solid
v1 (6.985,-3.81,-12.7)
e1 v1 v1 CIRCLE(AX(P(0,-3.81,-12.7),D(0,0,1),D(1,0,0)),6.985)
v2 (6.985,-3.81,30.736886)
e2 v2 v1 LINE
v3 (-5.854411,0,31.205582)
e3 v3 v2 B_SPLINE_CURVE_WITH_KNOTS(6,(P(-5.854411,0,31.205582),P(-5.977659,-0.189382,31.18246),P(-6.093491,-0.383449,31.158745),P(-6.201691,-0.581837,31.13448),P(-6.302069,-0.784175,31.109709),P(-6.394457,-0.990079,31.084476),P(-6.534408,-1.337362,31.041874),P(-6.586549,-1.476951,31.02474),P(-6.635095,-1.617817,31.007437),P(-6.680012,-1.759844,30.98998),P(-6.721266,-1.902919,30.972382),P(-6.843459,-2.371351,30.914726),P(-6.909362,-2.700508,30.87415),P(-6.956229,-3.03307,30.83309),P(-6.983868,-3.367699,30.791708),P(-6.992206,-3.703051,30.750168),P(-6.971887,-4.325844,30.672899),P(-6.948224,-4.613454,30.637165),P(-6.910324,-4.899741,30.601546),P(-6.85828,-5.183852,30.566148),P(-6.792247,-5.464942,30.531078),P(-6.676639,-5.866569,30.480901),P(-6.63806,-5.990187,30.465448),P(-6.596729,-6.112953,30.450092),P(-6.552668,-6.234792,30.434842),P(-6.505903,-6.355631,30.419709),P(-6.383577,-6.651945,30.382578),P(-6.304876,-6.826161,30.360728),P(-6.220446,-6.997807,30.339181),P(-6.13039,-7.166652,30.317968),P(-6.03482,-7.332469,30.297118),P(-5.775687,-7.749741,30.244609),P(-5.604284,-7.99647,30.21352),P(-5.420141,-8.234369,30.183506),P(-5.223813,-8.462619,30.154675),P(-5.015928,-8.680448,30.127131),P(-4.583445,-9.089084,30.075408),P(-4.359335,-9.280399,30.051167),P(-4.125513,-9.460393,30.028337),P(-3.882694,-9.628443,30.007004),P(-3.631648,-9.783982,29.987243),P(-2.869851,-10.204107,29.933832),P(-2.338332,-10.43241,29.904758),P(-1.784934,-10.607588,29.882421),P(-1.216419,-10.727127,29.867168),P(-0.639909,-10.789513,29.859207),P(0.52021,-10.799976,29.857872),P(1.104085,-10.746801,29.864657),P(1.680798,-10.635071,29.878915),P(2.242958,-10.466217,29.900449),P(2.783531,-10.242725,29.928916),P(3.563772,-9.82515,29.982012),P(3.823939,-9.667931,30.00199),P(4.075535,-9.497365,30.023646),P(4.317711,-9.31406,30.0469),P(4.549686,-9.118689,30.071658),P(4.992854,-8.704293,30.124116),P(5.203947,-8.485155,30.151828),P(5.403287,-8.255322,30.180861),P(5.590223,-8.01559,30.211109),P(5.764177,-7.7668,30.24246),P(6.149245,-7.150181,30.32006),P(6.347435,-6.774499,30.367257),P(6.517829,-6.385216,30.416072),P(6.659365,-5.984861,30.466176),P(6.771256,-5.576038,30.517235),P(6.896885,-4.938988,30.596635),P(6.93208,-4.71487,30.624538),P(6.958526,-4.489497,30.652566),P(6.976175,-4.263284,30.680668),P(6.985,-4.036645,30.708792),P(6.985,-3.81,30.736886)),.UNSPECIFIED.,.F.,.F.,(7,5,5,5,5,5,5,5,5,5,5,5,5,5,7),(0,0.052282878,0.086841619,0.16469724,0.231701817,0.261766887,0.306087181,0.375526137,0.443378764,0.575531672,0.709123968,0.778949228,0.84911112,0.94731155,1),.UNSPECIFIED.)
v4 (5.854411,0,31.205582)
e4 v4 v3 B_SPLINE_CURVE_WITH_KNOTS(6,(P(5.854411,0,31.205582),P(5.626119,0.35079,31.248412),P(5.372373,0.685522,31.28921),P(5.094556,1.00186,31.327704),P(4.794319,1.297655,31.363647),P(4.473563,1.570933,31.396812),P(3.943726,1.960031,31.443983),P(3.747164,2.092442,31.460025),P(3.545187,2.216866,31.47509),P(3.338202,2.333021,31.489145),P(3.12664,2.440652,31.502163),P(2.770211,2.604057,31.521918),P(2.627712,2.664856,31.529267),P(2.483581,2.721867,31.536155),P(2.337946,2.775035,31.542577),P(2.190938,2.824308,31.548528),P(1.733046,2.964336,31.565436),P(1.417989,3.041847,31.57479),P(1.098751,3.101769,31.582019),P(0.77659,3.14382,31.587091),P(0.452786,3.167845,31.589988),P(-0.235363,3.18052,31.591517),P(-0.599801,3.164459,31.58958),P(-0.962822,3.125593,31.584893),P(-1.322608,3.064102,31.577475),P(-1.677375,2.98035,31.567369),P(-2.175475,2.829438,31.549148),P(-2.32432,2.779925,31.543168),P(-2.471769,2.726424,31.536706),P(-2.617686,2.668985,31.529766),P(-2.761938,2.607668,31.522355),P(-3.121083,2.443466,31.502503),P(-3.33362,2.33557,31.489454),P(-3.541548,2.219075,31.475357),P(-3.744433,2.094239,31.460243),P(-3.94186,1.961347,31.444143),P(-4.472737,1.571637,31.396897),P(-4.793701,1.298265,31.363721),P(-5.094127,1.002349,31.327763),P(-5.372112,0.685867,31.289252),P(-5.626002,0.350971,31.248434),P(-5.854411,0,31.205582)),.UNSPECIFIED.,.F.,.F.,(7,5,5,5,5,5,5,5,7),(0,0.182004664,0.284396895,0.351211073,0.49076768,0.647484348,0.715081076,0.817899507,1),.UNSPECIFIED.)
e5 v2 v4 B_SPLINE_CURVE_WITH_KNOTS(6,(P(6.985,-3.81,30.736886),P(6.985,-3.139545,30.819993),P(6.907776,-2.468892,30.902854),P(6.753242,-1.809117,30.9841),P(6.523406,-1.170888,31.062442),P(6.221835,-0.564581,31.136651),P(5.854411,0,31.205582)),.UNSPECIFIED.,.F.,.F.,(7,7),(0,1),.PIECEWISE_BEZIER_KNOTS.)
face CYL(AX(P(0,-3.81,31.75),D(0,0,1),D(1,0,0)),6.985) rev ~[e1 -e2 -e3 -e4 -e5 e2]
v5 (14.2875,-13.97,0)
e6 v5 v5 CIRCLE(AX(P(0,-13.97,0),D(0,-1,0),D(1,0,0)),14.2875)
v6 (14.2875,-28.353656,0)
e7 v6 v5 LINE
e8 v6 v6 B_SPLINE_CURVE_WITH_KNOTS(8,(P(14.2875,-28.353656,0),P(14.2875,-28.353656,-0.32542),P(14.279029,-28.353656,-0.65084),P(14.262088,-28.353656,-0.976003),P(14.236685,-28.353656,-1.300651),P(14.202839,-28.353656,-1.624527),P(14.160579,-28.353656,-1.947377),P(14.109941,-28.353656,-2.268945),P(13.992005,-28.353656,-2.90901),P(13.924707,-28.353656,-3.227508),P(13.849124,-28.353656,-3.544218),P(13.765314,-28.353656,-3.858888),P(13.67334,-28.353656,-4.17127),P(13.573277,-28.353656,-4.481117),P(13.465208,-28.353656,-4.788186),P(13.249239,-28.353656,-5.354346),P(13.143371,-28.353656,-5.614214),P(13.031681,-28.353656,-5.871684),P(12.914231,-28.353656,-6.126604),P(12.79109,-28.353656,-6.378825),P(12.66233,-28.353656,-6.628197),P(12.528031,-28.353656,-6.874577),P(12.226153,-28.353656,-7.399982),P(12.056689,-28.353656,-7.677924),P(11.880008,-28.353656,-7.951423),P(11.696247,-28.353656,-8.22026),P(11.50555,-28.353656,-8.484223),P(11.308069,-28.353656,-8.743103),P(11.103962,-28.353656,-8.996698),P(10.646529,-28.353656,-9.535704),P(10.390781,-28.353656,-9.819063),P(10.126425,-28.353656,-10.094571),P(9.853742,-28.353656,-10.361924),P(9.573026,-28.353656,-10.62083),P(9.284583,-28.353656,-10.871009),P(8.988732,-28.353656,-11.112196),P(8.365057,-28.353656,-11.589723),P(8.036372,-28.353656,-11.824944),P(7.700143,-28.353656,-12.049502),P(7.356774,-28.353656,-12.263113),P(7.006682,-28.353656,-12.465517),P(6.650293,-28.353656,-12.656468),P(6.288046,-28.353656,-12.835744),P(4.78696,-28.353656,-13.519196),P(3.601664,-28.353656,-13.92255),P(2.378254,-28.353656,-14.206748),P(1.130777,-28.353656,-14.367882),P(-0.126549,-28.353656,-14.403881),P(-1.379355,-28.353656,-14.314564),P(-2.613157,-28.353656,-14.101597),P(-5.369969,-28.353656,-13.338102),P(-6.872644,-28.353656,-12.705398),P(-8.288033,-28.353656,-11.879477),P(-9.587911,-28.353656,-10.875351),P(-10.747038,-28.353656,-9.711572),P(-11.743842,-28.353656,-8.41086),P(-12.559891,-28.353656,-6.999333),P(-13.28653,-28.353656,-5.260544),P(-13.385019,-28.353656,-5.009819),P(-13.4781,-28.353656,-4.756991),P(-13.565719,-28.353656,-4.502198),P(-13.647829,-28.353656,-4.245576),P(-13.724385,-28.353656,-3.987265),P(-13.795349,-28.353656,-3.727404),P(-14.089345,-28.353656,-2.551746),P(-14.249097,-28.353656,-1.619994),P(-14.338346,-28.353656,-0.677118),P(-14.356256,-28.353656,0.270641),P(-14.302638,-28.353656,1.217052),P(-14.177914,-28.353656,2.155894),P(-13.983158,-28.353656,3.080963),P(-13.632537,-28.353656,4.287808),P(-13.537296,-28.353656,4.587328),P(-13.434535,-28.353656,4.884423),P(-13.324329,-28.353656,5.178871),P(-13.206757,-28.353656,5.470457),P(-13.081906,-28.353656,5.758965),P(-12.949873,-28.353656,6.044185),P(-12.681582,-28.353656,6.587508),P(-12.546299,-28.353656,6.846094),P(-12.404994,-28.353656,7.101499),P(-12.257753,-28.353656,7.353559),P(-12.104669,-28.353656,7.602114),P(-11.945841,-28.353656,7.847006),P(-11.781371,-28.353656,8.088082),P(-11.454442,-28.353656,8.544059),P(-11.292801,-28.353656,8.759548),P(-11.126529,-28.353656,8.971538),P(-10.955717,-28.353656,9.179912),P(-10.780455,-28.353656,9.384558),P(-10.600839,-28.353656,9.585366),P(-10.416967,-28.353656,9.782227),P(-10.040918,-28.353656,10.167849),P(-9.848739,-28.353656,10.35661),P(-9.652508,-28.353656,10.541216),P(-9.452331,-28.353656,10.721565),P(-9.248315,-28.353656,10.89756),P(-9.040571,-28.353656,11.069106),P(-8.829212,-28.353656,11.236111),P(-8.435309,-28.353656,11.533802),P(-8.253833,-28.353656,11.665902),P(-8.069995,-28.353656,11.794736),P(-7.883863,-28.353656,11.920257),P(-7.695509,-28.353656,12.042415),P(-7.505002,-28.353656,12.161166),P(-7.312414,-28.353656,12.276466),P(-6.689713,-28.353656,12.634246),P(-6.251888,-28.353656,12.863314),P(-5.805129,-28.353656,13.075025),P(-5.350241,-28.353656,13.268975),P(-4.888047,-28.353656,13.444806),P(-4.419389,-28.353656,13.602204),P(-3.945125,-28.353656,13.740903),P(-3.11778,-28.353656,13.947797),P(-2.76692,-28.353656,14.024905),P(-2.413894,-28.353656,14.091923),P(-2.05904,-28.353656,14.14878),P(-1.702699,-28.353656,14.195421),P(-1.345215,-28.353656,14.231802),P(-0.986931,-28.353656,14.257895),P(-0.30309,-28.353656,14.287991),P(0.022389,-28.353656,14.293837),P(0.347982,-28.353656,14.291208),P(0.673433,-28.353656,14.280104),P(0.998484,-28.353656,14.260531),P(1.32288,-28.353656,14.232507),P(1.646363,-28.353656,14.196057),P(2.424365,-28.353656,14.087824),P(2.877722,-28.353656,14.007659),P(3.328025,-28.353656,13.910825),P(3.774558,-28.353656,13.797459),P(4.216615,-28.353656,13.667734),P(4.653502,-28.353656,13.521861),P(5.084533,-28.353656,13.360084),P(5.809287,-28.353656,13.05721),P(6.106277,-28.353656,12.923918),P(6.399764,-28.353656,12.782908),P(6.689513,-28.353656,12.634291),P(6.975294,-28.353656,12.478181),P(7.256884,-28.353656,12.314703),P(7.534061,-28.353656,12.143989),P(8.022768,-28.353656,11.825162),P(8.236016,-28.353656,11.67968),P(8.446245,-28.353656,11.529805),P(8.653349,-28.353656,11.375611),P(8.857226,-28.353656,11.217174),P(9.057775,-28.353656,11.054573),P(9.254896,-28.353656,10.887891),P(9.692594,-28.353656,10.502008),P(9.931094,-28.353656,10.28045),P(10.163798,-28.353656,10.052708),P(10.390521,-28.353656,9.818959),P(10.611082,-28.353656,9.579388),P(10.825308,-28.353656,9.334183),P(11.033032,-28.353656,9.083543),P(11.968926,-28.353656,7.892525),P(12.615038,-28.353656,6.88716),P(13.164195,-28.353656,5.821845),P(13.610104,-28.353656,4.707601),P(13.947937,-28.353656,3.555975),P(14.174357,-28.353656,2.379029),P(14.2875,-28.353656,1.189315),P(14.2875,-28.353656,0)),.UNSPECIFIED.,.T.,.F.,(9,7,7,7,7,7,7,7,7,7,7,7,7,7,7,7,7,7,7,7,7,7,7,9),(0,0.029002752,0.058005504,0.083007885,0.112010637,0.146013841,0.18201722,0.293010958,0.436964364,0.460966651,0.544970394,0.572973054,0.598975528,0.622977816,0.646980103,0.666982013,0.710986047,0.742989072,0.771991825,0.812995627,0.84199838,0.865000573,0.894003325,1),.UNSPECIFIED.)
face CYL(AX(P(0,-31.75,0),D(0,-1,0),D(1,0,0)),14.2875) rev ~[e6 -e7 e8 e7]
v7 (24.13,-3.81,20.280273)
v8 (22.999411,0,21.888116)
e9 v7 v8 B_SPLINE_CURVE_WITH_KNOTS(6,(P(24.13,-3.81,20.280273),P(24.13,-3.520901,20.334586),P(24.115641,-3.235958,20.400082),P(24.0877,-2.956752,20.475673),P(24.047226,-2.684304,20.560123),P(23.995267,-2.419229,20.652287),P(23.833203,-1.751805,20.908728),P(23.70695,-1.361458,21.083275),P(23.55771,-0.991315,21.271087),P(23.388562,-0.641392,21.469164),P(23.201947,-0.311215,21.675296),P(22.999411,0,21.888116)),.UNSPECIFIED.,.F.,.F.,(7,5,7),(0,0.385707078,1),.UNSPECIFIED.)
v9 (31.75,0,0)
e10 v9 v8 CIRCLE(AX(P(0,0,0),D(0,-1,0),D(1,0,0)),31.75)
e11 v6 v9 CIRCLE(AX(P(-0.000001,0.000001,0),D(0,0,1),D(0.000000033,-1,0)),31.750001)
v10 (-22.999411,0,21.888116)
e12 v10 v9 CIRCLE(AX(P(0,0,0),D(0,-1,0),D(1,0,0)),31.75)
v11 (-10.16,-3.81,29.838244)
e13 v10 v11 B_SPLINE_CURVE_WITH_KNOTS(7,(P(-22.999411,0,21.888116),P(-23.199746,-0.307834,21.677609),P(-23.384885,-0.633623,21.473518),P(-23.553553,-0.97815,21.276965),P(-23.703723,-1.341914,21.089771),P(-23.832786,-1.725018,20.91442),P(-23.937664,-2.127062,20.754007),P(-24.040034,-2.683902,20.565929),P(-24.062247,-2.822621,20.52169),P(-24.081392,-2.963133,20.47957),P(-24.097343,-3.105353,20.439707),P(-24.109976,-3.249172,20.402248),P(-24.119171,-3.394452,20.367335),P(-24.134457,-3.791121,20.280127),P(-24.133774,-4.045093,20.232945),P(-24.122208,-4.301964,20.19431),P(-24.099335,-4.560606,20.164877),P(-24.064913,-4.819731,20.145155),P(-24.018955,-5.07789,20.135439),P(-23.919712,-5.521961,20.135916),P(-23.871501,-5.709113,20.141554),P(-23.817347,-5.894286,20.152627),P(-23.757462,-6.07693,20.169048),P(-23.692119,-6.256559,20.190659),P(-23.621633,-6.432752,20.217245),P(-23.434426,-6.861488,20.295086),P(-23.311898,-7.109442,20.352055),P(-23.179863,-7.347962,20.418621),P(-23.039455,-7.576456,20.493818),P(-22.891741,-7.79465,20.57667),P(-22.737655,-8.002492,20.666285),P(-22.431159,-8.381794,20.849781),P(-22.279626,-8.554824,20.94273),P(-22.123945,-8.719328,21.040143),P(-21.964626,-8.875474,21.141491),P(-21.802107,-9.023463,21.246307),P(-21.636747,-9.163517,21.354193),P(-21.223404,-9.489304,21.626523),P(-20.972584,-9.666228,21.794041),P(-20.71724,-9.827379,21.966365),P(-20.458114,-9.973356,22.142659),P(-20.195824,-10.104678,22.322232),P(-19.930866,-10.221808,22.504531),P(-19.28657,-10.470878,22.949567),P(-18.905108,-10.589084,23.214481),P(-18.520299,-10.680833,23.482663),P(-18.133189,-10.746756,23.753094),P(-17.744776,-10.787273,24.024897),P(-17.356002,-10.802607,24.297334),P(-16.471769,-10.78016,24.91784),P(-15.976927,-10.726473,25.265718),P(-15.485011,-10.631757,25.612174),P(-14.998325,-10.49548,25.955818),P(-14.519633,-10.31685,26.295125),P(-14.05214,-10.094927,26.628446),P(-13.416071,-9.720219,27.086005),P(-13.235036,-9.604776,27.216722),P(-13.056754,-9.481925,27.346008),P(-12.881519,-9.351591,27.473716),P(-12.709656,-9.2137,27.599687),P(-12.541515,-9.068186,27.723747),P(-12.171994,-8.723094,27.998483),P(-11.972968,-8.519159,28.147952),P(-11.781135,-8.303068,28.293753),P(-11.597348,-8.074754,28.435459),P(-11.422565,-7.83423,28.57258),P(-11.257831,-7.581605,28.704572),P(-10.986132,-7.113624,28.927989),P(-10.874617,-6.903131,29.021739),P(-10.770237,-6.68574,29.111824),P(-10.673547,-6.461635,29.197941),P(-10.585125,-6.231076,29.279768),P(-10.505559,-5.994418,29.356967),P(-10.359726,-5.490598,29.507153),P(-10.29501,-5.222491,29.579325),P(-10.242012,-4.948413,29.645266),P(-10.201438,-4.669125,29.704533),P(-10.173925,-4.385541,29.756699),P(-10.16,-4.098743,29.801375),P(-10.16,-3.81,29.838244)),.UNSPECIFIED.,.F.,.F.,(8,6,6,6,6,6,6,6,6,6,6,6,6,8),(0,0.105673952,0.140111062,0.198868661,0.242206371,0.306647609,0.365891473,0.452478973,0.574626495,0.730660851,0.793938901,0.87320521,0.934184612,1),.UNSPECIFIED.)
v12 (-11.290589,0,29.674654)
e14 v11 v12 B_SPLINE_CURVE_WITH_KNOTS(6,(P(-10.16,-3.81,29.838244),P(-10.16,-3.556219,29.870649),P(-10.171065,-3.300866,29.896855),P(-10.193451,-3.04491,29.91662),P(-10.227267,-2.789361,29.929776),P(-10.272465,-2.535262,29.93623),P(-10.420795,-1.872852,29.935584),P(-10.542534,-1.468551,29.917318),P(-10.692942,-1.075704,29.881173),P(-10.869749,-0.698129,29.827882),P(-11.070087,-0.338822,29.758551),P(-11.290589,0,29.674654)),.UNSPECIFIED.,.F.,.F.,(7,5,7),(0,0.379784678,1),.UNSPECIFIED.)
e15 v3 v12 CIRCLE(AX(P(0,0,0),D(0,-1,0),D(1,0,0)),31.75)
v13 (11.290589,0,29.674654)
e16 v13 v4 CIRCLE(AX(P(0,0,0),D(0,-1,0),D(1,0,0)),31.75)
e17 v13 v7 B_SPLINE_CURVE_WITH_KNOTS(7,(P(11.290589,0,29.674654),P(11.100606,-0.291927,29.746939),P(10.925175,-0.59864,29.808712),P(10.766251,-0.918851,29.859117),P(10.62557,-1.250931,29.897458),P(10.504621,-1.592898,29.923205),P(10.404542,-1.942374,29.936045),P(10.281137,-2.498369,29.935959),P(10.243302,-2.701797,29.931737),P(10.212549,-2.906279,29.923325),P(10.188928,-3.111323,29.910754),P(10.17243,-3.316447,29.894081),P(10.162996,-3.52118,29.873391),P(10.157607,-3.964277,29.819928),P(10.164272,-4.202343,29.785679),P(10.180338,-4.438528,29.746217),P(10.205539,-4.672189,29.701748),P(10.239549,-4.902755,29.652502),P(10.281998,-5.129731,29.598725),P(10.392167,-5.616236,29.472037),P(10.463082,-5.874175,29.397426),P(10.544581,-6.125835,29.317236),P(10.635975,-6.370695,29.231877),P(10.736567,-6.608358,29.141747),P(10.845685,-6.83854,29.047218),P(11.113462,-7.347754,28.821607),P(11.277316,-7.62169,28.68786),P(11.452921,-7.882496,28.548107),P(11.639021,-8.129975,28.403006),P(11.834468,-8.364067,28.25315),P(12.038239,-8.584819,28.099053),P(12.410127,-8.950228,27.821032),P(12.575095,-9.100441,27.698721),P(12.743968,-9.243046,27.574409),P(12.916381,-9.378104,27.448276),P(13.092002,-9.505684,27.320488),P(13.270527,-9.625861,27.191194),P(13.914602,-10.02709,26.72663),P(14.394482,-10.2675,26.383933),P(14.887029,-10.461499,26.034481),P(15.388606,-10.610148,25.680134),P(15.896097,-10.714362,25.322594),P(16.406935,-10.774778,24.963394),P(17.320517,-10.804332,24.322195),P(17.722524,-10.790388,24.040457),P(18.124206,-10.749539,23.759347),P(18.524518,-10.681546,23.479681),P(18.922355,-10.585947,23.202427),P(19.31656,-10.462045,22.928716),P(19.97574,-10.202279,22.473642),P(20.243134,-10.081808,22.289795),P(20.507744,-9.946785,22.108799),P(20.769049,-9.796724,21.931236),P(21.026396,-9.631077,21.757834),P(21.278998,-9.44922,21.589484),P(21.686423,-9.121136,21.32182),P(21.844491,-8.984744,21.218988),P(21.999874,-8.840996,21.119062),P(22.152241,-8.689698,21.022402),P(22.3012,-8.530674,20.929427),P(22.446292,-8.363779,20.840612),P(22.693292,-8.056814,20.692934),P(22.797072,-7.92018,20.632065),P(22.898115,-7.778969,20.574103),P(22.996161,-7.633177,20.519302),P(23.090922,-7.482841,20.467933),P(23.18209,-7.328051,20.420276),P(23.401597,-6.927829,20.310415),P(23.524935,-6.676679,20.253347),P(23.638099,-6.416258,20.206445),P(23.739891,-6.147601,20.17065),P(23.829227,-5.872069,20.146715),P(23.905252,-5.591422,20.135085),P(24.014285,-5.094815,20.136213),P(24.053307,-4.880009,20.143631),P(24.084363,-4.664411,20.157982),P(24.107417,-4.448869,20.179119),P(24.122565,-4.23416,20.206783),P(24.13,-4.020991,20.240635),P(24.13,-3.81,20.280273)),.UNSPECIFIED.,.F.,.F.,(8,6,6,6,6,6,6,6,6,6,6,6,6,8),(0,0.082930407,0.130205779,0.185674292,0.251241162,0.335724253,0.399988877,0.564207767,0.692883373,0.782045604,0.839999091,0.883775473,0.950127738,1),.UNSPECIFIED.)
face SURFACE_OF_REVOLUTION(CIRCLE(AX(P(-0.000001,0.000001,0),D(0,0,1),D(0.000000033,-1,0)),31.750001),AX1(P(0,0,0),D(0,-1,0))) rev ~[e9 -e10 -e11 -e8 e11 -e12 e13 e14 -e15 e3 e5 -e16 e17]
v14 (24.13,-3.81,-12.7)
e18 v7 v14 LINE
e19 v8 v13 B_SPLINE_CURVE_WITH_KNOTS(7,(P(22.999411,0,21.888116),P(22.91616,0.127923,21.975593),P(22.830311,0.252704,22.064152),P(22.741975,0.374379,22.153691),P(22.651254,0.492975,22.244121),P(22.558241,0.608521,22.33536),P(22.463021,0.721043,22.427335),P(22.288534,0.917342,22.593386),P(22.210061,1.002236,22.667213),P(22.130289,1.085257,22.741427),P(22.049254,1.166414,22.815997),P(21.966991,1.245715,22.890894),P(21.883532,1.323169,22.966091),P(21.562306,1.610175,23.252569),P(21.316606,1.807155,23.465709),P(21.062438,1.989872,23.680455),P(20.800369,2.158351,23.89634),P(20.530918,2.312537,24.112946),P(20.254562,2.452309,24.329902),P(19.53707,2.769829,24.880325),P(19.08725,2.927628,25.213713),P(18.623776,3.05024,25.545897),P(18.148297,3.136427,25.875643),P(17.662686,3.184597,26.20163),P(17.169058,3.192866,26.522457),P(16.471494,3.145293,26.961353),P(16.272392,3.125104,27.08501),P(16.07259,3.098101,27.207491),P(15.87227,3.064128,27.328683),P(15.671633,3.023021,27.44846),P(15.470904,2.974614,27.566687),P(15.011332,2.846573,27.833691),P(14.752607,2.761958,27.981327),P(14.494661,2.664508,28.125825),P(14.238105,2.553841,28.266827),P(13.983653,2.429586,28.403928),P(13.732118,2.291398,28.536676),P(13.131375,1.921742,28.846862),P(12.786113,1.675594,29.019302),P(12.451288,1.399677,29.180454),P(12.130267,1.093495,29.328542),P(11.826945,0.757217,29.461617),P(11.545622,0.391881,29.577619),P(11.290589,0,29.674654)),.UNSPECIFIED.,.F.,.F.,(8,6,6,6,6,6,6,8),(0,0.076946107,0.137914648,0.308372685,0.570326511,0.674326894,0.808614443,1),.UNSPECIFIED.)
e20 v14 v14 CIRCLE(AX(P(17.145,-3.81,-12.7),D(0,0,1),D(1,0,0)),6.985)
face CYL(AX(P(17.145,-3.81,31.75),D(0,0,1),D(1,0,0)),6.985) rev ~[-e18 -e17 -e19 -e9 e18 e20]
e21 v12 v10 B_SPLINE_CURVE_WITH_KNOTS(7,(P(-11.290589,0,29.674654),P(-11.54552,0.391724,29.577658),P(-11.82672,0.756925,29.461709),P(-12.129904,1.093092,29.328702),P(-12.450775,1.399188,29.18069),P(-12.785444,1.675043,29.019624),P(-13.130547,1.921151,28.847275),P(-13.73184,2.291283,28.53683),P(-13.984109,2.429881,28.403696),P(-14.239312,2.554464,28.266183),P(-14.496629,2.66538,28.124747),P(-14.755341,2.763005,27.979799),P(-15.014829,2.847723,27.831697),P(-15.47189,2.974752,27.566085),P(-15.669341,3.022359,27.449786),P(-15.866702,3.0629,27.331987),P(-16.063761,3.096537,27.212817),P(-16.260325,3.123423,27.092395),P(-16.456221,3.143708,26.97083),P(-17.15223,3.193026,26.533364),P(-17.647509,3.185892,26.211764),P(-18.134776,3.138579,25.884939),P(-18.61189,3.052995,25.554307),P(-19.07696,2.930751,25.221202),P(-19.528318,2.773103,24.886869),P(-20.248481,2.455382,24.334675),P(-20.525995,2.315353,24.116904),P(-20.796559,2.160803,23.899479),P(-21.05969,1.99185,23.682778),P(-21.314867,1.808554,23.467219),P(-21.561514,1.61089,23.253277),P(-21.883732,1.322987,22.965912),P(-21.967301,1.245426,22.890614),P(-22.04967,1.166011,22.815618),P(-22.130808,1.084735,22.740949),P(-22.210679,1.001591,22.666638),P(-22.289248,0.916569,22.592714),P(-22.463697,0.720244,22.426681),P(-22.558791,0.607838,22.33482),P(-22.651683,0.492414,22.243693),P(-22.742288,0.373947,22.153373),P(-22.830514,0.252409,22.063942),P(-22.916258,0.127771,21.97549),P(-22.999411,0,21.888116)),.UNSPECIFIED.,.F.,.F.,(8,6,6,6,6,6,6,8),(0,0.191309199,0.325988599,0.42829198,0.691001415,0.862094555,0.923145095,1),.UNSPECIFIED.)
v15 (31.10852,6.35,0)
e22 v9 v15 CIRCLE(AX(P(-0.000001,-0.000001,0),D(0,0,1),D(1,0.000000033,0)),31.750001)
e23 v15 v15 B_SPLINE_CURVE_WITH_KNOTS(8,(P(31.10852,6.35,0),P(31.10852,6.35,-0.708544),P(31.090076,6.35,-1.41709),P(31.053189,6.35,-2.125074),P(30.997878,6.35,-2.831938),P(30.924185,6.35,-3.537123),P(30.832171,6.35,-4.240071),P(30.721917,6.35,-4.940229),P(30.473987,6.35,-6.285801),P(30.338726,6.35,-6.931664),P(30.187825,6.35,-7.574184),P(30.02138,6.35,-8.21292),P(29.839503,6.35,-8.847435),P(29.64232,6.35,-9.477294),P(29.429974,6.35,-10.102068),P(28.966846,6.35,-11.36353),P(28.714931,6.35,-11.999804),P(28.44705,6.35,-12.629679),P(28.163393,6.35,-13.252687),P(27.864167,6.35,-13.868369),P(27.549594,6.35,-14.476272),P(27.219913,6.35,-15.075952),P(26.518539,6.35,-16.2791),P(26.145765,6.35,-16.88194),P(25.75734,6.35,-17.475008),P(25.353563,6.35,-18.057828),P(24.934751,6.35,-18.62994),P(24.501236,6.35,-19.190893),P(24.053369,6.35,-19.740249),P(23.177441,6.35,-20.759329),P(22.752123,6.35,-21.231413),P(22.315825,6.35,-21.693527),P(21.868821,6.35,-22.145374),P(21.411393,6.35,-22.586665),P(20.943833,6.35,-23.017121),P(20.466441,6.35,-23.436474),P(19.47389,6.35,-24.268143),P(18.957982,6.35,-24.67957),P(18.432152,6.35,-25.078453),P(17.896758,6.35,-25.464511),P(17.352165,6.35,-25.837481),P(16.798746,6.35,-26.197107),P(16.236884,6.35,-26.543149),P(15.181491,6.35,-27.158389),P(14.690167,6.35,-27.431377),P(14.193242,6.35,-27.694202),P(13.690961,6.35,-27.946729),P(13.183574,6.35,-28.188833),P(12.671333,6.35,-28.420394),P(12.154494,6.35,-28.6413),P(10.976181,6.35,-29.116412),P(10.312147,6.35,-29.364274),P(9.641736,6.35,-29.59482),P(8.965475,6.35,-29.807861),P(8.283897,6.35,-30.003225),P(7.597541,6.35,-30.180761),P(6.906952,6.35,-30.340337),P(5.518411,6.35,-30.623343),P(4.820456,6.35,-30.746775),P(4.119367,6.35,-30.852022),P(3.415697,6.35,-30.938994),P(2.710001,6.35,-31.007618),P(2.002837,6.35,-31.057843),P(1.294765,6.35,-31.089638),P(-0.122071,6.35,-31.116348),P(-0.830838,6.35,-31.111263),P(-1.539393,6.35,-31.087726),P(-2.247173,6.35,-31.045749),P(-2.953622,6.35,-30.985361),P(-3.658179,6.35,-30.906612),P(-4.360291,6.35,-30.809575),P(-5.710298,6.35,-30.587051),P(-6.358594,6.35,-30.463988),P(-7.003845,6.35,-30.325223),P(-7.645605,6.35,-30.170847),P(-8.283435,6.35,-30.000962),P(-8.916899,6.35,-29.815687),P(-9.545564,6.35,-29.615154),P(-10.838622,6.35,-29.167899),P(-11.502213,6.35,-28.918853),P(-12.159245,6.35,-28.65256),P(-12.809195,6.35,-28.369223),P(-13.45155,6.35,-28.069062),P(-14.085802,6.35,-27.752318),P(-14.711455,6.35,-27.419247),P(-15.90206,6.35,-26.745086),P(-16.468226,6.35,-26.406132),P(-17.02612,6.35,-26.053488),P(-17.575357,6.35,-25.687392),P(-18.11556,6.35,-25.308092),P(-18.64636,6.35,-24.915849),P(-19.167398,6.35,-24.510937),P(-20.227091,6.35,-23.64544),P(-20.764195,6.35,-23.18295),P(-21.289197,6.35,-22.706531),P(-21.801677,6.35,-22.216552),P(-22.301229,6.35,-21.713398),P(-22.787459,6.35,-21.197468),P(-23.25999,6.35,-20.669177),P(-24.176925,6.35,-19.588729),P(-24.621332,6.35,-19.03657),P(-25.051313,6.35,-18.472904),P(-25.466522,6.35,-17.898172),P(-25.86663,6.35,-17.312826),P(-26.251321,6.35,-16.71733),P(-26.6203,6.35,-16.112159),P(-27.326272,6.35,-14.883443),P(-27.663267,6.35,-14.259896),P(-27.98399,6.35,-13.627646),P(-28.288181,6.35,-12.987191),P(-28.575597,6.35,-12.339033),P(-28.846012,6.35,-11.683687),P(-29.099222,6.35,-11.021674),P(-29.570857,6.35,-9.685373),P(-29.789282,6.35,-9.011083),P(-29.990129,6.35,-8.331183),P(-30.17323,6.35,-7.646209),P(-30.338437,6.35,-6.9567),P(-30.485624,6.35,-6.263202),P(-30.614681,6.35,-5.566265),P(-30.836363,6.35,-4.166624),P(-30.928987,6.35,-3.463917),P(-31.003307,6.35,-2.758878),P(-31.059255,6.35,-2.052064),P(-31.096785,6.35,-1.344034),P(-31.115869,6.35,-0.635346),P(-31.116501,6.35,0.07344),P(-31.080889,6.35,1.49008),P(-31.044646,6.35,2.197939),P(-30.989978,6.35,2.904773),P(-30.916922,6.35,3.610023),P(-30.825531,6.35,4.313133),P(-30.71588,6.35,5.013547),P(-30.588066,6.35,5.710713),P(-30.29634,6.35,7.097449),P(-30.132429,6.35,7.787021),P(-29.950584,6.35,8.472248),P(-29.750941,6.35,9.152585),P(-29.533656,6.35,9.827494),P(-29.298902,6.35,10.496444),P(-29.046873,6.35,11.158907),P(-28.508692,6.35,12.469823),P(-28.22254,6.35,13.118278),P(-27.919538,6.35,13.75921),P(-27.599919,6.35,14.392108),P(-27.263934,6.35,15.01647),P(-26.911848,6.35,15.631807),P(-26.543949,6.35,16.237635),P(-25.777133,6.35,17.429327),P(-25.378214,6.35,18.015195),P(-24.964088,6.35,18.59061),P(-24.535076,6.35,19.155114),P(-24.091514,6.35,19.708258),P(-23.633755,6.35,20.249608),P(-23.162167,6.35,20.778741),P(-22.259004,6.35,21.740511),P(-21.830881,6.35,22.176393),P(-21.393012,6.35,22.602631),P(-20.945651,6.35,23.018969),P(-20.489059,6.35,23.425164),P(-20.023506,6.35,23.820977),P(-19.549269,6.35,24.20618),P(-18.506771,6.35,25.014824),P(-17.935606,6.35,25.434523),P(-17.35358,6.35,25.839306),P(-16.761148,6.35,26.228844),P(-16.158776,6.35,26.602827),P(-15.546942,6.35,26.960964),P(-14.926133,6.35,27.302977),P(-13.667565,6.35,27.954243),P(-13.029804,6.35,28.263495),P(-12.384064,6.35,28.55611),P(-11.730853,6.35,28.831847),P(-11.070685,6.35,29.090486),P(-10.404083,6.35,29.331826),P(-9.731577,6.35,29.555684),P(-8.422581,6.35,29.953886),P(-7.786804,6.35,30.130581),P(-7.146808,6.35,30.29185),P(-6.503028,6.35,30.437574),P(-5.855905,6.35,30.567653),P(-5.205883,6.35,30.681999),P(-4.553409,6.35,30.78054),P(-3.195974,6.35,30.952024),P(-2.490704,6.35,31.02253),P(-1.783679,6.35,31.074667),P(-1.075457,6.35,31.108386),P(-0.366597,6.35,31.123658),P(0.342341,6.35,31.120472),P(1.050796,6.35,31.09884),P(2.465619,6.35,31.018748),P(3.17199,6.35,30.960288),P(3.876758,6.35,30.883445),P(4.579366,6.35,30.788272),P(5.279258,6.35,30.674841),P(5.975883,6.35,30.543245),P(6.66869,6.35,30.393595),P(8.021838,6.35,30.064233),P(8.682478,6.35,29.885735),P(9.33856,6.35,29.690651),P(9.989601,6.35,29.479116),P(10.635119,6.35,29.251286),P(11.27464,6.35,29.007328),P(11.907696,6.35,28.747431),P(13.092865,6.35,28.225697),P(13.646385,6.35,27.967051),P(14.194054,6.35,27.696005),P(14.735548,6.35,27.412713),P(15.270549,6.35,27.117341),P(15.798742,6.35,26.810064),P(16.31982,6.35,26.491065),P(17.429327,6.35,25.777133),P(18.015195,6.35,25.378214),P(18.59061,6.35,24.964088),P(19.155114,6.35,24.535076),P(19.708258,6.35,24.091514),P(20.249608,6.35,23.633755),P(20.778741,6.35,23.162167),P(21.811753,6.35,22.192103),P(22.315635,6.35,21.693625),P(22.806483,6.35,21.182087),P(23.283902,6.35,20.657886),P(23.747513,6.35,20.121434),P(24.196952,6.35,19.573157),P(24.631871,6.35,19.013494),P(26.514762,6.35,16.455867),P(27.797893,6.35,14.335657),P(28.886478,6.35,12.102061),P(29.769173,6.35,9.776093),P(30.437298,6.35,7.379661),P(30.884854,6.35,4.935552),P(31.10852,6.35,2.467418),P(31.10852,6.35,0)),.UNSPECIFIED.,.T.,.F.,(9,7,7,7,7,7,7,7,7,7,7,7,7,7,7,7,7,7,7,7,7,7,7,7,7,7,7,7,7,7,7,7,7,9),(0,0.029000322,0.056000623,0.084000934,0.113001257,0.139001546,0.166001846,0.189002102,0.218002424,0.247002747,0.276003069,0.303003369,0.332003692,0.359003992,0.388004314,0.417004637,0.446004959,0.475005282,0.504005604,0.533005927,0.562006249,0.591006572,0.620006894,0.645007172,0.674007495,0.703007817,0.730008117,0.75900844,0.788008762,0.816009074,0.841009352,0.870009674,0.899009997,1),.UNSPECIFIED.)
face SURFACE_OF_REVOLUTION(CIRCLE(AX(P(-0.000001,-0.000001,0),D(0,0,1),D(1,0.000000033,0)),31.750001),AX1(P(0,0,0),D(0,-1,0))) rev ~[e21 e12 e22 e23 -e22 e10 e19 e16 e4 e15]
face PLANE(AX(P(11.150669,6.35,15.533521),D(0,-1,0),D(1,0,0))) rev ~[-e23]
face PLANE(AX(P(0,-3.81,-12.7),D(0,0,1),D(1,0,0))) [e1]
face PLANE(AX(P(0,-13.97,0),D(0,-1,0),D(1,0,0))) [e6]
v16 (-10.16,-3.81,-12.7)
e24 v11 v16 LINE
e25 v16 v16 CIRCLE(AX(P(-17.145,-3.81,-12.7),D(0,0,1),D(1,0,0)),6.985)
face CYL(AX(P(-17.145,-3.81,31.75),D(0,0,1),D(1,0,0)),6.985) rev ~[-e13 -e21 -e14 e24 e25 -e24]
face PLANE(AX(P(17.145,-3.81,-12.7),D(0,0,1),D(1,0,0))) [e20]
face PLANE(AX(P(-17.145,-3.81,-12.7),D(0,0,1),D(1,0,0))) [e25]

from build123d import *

# Parameters (mm, degrees)
F3_W      = 262.908466
F3_H      = 206.398711
F4_DEPTH  = 25.4
F6_R      = 6.985
F7_DEPTH  = 44.45
F9_R      = 14.2875
F10_DEPTH = 17.78


with BuildPart() as f1:
    # F0 (on Top) → F1 (revolve)
    with BuildSketch(Plane.XY):
        with BuildLine():
            ThreePointArc((0, -31.75), (22.45064, -22.45064), (31.75, 0))
            ThreePointArc((31.75, 0), (22.45064, 22.45064), (0, 31.75))
            Line((0, 31.75), (0, -31.75))
        make_face()
    revolve(axis=Axis((0, 0, 0), (0, -1, 0)))

    # F3 (on offset) → F4 (cut)
    with BuildSketch(Plane.XZ.offset(-6.35)):
        with Locations((11.150669, 15.533521)):
            Rectangle(F3_W, F3_H)
    extrude(amount=-F4_DEPTH, mode=Mode.SUBTRACT)

    # F6 (on offset) → F7 (cut)
    with BuildSketch(Plane.XY.offset(31.75)):
        with Locations((0, -3.81)):
            Circle(F6_R)
        with Locations((-17.145, -3.81)):
            Circle(F6_R)
        with Locations((17.145, -3.81)):
            Circle(F6_R)
    extrude(amount=-F7_DEPTH, mode=Mode.SUBTRACT)

    # F9 (on offset) → F10 (cut)
    with BuildSketch(Plane.XZ.offset(31.75)):
        Circle(F9_R)
    extrude(amount=-F10_DEPTH, mode=Mode.SUBTRACT)


solid = f1.part
